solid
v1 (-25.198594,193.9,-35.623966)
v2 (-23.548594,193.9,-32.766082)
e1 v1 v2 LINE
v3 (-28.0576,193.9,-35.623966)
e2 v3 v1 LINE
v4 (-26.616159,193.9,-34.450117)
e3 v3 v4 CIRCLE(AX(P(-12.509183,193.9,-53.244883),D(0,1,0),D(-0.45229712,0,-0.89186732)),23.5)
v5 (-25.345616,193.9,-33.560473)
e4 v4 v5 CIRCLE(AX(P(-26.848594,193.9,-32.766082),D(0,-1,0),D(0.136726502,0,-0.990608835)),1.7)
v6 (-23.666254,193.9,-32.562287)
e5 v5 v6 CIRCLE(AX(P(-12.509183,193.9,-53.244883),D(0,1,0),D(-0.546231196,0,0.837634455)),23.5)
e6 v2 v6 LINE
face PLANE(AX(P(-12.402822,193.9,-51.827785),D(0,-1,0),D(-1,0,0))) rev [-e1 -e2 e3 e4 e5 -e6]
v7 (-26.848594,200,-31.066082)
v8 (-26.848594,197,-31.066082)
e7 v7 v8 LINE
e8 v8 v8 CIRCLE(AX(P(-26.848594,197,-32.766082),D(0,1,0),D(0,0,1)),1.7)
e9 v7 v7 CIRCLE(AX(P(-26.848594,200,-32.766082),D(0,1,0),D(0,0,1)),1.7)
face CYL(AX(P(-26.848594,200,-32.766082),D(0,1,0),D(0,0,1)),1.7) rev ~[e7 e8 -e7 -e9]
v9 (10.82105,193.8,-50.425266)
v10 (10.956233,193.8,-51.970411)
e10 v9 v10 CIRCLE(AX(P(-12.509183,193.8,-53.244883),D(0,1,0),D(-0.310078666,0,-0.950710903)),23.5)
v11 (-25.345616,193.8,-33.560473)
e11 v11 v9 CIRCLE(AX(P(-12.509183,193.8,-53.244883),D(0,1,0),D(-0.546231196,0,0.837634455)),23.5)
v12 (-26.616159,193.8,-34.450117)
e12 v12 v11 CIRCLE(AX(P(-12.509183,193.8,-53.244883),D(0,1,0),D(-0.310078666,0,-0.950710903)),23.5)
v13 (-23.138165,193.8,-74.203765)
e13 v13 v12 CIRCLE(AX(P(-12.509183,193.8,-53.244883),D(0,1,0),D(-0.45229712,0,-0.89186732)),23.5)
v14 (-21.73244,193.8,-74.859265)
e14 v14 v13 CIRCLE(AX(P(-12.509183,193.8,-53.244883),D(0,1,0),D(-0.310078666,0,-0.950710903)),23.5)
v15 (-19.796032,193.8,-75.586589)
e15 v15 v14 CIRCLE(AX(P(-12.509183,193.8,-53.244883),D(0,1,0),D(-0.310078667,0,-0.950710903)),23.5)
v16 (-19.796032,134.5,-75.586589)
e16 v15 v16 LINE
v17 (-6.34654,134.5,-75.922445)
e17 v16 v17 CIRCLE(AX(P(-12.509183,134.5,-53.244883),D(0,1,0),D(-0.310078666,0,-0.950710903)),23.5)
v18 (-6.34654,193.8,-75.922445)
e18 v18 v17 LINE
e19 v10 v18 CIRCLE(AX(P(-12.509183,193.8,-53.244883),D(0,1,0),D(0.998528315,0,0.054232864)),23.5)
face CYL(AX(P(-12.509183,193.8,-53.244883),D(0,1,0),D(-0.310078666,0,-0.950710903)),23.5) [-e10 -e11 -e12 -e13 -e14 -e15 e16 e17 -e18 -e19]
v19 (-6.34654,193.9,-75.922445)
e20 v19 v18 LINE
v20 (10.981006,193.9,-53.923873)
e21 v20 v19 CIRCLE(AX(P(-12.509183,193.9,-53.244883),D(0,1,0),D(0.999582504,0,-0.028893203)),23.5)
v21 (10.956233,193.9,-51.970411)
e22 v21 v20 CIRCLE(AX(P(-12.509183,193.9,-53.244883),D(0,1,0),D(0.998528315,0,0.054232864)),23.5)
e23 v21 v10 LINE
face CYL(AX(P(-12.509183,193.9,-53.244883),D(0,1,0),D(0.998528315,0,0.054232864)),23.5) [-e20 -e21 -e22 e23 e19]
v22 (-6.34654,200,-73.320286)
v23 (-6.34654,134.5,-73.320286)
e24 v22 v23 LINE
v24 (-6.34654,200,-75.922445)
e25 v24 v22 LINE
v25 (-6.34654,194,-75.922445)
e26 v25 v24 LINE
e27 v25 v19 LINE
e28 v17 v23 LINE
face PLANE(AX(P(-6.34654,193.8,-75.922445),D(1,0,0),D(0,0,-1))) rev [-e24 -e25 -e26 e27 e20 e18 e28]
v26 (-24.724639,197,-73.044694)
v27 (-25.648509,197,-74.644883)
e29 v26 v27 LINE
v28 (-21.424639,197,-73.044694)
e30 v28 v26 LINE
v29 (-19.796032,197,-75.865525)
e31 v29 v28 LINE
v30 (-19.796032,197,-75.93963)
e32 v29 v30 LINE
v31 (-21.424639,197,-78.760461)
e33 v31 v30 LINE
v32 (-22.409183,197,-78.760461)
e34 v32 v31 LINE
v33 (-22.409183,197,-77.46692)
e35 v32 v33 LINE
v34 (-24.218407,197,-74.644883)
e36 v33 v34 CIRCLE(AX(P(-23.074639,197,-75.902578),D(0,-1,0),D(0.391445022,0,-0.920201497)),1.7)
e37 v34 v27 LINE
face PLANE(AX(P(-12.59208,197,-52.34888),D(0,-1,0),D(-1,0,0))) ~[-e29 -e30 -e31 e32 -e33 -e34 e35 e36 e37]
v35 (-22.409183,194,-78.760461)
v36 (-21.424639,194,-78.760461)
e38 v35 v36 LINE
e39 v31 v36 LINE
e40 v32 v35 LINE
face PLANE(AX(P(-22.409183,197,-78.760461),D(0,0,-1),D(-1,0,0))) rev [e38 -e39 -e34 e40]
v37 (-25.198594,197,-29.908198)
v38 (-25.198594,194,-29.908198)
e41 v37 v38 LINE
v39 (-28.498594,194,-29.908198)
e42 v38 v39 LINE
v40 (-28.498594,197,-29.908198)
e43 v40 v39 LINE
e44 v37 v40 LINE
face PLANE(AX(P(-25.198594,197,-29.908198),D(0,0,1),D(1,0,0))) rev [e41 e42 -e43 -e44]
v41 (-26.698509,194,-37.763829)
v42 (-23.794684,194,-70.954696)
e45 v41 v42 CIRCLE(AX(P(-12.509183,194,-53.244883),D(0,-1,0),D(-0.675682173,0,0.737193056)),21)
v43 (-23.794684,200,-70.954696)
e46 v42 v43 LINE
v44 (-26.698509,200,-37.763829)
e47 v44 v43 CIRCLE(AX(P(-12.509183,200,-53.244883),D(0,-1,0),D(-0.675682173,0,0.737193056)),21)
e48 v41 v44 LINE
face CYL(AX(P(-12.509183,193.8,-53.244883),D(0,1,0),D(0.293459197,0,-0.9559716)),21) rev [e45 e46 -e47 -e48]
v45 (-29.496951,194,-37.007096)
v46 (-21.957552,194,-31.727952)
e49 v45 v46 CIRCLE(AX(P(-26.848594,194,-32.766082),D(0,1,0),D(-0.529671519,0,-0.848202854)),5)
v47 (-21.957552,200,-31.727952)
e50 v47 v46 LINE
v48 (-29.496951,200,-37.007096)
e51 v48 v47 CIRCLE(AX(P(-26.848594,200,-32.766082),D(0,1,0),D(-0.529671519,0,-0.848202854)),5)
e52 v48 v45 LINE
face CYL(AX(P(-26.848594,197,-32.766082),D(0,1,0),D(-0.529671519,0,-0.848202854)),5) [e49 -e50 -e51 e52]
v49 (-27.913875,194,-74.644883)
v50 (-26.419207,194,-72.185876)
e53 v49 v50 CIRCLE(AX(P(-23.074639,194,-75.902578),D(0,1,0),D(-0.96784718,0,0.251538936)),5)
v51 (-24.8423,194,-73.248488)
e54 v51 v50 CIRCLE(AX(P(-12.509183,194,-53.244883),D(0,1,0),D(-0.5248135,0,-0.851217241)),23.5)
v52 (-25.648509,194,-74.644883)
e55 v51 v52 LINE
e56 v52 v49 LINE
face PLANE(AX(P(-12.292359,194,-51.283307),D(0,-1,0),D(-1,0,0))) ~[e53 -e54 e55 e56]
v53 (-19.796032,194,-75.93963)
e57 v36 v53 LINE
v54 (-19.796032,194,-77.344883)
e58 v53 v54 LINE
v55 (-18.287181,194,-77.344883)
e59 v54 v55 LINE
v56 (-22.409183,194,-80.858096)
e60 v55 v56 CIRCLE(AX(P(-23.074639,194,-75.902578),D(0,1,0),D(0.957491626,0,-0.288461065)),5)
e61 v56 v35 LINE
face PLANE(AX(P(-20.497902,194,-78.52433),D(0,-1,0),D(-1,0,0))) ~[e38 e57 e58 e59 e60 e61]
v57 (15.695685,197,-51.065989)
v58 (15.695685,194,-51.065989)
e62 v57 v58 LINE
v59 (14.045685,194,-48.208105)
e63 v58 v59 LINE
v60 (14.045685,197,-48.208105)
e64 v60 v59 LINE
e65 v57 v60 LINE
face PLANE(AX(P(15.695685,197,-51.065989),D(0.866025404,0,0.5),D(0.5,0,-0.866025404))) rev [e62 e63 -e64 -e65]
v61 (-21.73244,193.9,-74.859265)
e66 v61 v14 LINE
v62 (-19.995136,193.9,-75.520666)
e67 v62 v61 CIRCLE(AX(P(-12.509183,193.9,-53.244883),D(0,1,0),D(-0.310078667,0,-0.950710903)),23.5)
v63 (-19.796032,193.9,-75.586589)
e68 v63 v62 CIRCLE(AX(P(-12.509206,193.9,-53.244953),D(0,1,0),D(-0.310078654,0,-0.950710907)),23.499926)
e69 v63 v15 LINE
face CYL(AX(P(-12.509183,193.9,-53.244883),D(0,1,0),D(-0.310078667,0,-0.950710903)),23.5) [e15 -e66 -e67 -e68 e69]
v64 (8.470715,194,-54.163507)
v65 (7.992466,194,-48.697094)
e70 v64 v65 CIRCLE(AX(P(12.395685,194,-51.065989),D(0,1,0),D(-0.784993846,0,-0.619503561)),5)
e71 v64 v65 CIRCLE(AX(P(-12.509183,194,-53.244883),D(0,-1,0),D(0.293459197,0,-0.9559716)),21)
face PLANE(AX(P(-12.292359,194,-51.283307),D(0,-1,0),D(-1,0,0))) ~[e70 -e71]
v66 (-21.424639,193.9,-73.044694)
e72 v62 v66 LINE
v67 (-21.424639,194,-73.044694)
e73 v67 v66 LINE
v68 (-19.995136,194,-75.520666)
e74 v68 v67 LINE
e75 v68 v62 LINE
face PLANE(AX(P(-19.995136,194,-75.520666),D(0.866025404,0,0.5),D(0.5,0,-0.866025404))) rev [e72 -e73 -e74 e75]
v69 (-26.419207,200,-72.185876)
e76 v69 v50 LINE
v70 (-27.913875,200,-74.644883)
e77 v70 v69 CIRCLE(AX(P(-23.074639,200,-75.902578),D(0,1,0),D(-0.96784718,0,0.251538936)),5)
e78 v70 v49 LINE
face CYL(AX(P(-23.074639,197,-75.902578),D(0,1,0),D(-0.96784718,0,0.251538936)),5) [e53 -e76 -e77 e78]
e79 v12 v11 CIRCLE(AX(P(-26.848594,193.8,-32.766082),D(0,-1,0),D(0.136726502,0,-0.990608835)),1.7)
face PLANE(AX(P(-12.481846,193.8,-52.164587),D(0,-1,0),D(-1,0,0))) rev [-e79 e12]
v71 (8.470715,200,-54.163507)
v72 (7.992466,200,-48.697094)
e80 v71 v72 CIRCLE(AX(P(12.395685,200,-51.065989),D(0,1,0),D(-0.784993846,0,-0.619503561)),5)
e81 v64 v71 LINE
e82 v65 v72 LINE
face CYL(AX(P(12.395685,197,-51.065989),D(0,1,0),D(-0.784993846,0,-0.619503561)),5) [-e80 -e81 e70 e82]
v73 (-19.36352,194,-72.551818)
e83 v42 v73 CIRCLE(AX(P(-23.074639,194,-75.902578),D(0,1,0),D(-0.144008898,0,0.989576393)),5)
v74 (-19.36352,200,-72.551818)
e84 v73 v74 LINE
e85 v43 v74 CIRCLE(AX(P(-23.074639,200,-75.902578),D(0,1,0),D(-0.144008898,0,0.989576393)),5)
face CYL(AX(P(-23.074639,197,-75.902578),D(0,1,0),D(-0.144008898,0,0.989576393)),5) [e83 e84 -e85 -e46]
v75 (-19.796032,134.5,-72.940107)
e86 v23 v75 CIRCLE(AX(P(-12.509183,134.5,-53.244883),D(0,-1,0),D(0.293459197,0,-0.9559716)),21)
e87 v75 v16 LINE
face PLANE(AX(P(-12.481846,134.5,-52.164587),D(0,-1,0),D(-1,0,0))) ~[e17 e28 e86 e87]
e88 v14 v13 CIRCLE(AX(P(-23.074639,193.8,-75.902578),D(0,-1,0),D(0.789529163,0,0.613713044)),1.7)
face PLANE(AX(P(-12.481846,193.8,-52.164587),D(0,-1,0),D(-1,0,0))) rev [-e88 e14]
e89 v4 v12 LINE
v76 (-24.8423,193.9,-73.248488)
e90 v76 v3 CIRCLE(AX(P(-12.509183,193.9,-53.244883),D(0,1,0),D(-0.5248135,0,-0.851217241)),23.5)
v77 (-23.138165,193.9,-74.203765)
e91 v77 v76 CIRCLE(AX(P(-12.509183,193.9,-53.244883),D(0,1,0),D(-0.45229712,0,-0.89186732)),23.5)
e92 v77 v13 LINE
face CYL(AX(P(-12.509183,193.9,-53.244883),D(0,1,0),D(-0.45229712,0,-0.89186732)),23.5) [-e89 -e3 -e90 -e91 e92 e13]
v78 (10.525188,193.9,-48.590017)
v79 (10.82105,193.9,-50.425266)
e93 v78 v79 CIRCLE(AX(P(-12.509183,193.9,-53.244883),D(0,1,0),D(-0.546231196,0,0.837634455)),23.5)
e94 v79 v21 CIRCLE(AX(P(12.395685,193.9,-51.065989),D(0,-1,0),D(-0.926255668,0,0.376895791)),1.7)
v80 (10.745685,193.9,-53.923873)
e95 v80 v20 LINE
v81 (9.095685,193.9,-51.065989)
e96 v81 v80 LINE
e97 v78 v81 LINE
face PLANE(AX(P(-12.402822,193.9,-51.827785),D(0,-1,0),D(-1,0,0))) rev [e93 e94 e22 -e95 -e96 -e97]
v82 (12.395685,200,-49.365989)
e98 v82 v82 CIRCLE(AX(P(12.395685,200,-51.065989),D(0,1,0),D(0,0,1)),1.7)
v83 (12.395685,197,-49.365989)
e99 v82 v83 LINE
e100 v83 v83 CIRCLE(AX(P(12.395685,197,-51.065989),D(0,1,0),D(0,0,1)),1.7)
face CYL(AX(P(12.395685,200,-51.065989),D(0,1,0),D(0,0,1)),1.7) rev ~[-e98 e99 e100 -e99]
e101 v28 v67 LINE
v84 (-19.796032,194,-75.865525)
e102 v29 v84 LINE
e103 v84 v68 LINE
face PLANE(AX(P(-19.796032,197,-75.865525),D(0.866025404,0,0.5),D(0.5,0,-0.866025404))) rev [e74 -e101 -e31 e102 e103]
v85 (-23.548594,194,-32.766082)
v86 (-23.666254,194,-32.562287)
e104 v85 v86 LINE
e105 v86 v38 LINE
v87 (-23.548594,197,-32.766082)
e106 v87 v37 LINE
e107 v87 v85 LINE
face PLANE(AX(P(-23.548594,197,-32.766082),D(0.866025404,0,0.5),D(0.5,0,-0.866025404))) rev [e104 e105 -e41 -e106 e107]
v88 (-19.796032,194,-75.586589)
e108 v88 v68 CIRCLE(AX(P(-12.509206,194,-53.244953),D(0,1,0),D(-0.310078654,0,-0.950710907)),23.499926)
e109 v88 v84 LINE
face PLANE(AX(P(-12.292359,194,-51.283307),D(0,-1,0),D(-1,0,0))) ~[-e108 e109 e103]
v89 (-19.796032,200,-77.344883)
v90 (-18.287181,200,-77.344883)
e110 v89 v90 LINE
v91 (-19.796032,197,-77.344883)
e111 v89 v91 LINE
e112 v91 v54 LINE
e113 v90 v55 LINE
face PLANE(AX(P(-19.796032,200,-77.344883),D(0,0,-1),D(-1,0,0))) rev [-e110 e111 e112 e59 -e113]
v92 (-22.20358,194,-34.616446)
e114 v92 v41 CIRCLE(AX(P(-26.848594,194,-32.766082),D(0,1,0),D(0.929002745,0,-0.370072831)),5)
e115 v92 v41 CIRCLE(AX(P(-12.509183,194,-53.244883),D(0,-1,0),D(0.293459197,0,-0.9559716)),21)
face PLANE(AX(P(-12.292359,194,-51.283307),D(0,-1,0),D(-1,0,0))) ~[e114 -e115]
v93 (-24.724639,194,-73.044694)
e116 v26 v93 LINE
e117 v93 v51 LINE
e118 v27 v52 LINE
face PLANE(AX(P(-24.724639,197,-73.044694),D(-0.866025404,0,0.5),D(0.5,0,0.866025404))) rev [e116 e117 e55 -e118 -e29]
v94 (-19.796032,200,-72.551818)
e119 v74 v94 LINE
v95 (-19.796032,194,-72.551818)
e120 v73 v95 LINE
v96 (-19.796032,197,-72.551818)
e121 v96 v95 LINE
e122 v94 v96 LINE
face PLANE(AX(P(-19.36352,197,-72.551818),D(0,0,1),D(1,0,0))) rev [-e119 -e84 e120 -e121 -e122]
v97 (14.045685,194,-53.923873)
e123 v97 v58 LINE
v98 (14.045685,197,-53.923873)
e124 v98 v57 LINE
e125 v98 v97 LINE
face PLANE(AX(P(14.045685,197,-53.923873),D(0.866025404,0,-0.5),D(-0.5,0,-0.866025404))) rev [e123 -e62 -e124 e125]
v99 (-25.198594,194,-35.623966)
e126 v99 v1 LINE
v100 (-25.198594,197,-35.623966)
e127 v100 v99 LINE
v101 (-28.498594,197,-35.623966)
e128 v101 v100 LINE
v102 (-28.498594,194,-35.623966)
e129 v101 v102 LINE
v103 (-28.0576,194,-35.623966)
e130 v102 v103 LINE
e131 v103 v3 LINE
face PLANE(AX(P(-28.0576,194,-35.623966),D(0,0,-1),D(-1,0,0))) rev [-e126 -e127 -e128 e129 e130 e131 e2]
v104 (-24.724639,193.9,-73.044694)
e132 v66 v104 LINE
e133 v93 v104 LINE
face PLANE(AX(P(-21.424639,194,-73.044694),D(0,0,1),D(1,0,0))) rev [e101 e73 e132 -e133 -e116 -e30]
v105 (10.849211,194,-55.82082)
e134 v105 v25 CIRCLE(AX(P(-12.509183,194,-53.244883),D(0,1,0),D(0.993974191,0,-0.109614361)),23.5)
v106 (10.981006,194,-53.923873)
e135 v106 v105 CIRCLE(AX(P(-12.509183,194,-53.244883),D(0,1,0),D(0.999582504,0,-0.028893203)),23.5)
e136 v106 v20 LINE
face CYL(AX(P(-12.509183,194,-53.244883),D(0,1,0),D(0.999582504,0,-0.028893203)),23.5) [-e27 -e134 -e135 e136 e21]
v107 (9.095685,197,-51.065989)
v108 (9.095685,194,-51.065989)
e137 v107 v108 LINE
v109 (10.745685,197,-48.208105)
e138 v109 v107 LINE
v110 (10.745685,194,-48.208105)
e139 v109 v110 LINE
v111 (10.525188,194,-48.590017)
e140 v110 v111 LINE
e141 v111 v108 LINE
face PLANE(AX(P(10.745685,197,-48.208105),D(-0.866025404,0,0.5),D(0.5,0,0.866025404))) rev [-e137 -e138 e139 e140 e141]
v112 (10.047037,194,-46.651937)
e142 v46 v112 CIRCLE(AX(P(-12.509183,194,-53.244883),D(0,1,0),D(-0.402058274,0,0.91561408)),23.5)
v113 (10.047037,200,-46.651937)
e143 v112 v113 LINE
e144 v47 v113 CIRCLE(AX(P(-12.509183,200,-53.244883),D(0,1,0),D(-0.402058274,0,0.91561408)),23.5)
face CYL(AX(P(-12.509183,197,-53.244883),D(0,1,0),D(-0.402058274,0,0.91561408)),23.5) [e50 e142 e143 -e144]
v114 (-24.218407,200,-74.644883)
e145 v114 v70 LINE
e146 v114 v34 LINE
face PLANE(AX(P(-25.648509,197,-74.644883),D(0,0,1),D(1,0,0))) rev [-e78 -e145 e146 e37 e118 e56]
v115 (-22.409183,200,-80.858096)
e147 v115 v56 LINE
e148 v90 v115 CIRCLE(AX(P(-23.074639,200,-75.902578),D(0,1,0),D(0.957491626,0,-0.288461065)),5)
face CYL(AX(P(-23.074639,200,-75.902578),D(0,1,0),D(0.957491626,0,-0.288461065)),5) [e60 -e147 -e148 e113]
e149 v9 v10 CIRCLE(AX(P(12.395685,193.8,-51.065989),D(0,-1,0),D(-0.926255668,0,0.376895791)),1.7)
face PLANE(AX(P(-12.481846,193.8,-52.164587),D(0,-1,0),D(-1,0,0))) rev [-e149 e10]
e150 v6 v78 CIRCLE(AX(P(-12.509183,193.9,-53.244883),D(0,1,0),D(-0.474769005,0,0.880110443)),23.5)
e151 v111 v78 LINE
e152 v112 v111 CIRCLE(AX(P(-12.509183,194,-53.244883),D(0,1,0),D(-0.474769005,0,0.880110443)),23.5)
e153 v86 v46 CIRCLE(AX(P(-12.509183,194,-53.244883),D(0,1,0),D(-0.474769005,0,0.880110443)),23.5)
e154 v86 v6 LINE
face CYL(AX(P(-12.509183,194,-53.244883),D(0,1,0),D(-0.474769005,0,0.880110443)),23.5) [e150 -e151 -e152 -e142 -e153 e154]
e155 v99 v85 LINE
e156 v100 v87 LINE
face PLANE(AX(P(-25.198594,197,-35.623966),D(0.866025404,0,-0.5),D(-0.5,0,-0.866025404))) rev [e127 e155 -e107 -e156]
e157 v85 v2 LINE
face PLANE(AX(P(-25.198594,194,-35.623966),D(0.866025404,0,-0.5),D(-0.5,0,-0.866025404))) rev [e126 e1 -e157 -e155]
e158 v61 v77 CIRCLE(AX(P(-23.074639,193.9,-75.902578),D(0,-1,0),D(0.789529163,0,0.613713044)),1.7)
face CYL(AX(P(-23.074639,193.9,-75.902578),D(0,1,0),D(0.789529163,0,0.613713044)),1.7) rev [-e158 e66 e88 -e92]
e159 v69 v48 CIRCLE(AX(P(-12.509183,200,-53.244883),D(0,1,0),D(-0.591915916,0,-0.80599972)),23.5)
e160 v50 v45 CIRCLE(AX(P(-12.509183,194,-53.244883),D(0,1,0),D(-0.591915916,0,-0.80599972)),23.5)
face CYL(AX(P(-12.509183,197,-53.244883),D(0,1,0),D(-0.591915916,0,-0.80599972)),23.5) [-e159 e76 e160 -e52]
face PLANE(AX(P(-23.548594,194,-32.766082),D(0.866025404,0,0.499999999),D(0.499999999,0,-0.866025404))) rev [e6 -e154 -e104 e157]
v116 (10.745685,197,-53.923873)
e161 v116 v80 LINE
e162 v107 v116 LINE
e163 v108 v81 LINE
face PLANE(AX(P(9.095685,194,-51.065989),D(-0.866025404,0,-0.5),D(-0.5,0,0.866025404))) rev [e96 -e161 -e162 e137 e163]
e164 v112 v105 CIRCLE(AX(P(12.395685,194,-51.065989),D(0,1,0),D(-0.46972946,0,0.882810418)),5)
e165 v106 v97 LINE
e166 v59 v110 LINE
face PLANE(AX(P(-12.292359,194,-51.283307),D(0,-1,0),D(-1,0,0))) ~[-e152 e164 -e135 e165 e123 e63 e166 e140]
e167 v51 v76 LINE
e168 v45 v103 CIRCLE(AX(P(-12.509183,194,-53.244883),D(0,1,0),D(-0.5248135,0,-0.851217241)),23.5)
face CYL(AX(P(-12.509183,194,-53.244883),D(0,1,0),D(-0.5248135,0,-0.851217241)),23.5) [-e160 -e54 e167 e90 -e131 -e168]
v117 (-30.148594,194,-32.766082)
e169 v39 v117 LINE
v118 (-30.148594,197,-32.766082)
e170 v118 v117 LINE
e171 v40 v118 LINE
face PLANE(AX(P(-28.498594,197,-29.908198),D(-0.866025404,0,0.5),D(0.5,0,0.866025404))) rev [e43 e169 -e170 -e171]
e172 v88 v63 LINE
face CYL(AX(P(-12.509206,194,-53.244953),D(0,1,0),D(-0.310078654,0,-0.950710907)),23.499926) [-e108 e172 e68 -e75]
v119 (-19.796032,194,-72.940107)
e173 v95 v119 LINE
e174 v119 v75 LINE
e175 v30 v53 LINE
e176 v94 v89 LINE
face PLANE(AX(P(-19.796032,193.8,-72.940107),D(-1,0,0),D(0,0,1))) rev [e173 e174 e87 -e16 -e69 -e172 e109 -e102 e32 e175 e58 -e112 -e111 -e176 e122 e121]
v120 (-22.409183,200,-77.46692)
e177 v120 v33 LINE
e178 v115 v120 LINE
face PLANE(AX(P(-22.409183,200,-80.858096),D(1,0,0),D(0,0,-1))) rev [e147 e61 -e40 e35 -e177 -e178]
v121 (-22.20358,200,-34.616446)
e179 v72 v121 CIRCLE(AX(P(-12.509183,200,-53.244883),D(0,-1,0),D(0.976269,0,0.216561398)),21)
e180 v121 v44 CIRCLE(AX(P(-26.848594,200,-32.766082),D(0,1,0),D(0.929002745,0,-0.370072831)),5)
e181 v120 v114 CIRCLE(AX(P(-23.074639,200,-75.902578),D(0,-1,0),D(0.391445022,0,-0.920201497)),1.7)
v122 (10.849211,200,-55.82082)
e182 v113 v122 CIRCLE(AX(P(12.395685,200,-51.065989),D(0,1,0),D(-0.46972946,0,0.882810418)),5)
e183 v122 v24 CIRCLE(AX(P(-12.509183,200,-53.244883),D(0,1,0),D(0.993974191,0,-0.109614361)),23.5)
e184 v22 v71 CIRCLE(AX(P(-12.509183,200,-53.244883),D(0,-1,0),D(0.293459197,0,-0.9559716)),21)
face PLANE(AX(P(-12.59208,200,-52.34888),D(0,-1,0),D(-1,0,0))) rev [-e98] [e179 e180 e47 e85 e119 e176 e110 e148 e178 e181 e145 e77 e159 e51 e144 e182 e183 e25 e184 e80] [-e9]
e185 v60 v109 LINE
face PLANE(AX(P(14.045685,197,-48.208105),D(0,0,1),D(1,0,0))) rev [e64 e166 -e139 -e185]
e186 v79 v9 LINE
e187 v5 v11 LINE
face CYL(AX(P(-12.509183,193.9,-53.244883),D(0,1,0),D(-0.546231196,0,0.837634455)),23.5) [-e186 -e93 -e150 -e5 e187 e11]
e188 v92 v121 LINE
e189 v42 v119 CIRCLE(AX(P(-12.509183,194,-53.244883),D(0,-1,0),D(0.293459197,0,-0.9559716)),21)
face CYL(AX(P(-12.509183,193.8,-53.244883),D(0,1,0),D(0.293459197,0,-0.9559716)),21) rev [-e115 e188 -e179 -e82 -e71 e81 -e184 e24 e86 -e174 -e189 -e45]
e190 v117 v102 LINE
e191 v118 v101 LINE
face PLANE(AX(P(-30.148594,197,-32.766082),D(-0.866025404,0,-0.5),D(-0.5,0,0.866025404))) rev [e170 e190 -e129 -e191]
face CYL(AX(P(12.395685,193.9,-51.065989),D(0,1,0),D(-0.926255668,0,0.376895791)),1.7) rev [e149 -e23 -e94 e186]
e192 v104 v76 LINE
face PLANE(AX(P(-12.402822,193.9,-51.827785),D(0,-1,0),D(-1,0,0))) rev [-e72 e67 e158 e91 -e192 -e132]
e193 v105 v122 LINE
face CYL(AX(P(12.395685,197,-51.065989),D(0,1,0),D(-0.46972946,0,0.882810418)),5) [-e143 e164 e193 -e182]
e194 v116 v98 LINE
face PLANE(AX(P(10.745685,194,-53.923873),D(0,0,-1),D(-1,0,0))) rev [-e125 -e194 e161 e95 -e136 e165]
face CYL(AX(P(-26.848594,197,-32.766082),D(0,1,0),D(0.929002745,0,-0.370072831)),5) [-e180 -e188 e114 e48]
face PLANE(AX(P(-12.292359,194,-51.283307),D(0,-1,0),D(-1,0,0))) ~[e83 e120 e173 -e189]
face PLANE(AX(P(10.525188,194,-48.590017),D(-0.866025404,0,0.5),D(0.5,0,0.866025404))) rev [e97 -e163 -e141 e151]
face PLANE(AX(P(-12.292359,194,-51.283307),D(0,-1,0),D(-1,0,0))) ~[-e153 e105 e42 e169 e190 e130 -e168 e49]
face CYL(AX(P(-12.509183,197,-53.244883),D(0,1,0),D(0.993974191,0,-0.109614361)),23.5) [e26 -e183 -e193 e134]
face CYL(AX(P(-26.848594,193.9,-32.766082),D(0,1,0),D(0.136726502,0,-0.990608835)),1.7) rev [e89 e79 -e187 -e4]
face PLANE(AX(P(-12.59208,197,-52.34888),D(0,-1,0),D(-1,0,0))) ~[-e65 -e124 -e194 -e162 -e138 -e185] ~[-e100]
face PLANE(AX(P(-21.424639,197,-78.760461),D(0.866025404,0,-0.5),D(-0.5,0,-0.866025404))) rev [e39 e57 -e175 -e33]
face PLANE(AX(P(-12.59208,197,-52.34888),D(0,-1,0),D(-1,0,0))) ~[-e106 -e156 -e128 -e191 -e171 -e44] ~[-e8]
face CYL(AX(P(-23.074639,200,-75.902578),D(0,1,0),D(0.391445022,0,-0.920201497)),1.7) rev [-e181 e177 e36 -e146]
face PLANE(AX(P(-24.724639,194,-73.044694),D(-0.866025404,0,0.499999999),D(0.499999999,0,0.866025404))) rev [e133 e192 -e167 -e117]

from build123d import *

# Parameters (mm, degrees)
WHEEL_SUPPORT_RAILS_1_PROFILE_R       = 1.7
WHEEL_SUPPORT_RAILS_1_EXTRUSION_DEPTH = 3
WHEEL_SUPPORT_RAILS_2_EXTRUSION_DEPTH = 3
WHEEL_SUPPORT_RAILS_3_EXTRUSION_DEPTH = 0.1
WHEEL_SUPPORT_RAILS_4_EXTRUSION_DEPTH = 0.1
PIVOT_BACKING_5_EXTRUSION_DEPTH       = 59.3


with BuildPart() as part:
    # Wheel support rails 1 profile → Wheel support rails 1 extrusion (new body)
    with BuildSketch(Plane(origin=(0, -200, 0), x_dir=(1, 0, 0), z_dir=(0, 1, 0))):
        with BuildLine():
            Line((-19.3635199, 72.551817663), (-19.796031534, 72.551817663))
            Line((-19.796031534, 72.551817663), (-19.796031534, 77.344882879))
            Line((-19.796031534, 77.344882879), (-18.287181296, 77.344882879))
            ThreePointArc((-18.287181296, 77.344882879), (-19.831302101, 79.707937327), (-22.409182889, 80.858096458))
            Line((-22.409182889, 80.858096458), (-22.409182889, 77.466920099))
            ThreePointArc((-22.409182889, 77.466920099), (-21.643496924, 74.985063993), (-24.218406931, 74.644882879))
            Line((-24.218406931, 74.644882879), (-27.913875328, 74.644882879))
            ThreePointArc((-27.913875328, 74.644882879), (-27.347266001, 73.305528815), (-26.419206918, 72.185876289))
            ThreePointArc((-26.419206918, 72.185876289), (-35.919758288, 55.293042834), (-29.496951386, 37.007096044))
            ThreePointArc((-29.496951386, 37.007096044), (-29.716475974, 28.670321551), (-21.957552332, 31.727951993))
            ThreePointArc((-21.957552332, 31.727951993), (-2.577653733, 31.946649884), (10.047037269, 46.651937219))
            ThreePointArc((10.047037269, 46.651937219), (17.37665806, 50.630210597), (10.849210599, 55.820820355))
            ThreePointArc((10.849210599, 55.820820355), (5.348356993, 68.520951403), (-6.346539744, 75.922445127))
            Line((-6.346539744, 75.922445127), (-6.346539744, 73.320286475))
            ThreePointArc((-6.346539744, 73.320286475), (4.101805551, 66.093036958), (8.470715341, 54.163507116))
            ThreePointArc((8.470715341, 54.163507116), (7.414711079, 51.501768024), (7.992466121, 48.697093513))
            ThreePointArc((7.992466121, 48.697093513), (-3.634199387, 34.212419351), (-22.203580069, 34.616445929))
            ThreePointArc((-22.203580069, 34.616445929), (-23.98071161, 36.861841994), (-26.698508507, 37.763828705))
            ThreePointArc((-26.698508507, 37.763828705), (-33.429271543, 55.075153477), (-23.794683922, 70.954695591))
            ThreePointArc((-23.794683922, 70.954695591), (-21.379253869, 71.198784638), (-19.3635199, 72.551817663))
        make_face()
        with Locations((12.395684569, 51.06598931)):
            Circle(WHEEL_SUPPORT_RAILS_1_PROFILE_R, mode=Mode.SUBTRACT)
        with Locations((-26.848593792, 32.766081772)):
            Circle(WHEEL_SUPPORT_RAILS_1_PROFILE_R, mode=Mode.SUBTRACT)
    extrude(amount=WHEEL_SUPPORT_RAILS_1_EXTRUSION_DEPTH)

    # Wheel support rails 2 profile → Wheel support rails 2 extrusion (add)
    # profile 1 of 2: a face of its own
    with BuildSketch(Plane(origin=(0, -197, 0), x_dir=(1, 0, 0), z_dir=(0, 1, 0))):
        with BuildLine():
            Line((-19.3635199, 72.551817663), (-19.796031533, 72.551817663))
            Line((-19.796031533, 72.551817663), (-19.796031533, 75.86552534))
            Line((-19.796031533, 75.86552534), (-21.424639427, 73.044693722))
            Line((-21.424639427, 73.044693722), (-24.724639427, 73.044693722))
            Line((-24.724639427, 73.044693722), (-25.648509068, 74.644882879))
            Line((-25.648509068, 74.644882879), (-27.913875328, 74.644882879))
            ThreePointArc((-27.913875328, 74.644882879), (-27.347266001, 73.305528815), (-26.419206918, 72.185876289))
            ThreePointArc((-26.419206918, 72.185876289), (-35.919758288, 55.293042834), (-29.496951386, 37.007096044))
            ThreePointArc((-29.496951386, 37.007096044), (-29.716475974, 28.670321551), (-21.957552332, 31.727951993))
            ThreePointArc((-21.957552332, 31.727951993), (-2.577653733, 31.946649884), (10.047037269, 46.651937219))
            ThreePointArc((10.047037269, 46.651937219), (17.37665806, 50.630210597), (10.849210599, 55.820820355))
            ThreePointArc((10.849210599, 55.820820355), (5.348356993, 68.520951403), (-6.346539744, 75.922445127))
            Line((-6.346539744, 75.922445127), (-6.346539744, 73.320286475))
            ThreePointArc((-6.346539744, 73.320286475), (4.101805551, 66.093036958), (8.470715341, 54.163507116))
            ThreePointArc((8.470715341, 54.163507116), (7.414711079, 51.501768024), (7.992466121, 48.697093513))
            ThreePointArc((7.992466121, 48.697093513), (-3.634199387, 34.212419351), (-22.203580069, 34.616445929))
            ThreePointArc((-22.203580069, 34.616445929), (-23.98071161, 36.861841994), (-26.698508507, 37.763828705))
            ThreePointArc((-26.698508507, 37.763828705), (-33.429271543, 55.075153477), (-23.794683922, 70.954695591))
            ThreePointArc((-23.794683922, 70.954695591), (-21.379253869, 71.198784638), (-19.3635199, 72.551817663))
        make_face()
        Polygon((9.095684569, 51.06598931), (10.745684569, 53.923873143), (14.045684569, 53.923873143), (15.695684569, 51.06598931), (14.045684569, 48.208105478), (10.745684569, 48.208105478), align=None, mode=Mode.SUBTRACT)
        Polygon((-30.148593792, 32.766081772), (-28.498593792, 35.623965604), (-25.198593792, 35.623965604), (-23.548593792, 32.766081772), (-25.198593792, 29.908197939), (-28.498593792, 29.908197939), align=None, mode=Mode.SUBTRACT)
    # profile 2 of 2: a face of its own
    with BuildSketch(Plane(origin=(0, -197, 0), x_dir=(1, 0, 0), z_dir=(0, 1, 0))):
        with BuildLine():
            Line((-22.409182889, 78.760461387), (-21.424639427, 78.760461387))
            Line((-21.424639427, 78.760461387), (-19.796031533, 75.939629769))
            Line((-19.796031533, 75.939629769), (-19.796031533, 77.344882879))
            Line((-19.796031533, 77.344882879), (-18.287181296, 77.344882879))
            ThreePointArc((-18.287181296, 77.344882879), (-19.831302101, 79.707937327), (-22.409182889, 80.858096458))
            Line((-22.409182889, 80.858096458), (-22.409182889, 78.760461387))
        make_face()
    extrude(amount=WHEEL_SUPPORT_RAILS_2_EXTRUSION_DEPTH)

    # Wheel support rails 3 profile → Wheel support rails 3 extrusion (add)
    with BuildSketch(Plane(origin=(0, -194, 0), x_dir=(1, 0, 0), z_dir=(0, 1, 0))):
        with BuildLine():
            Line((9.095684569, 51.06598931), (10.745684569, 53.923873143))
            Line((10.745684569, 53.923873143), (10.981005967, 53.923873143))
            ThreePointArc((10.981005967, 53.923873143), (5.95177331, 67.785965934), (-6.346539744, 75.922445127))
            Line((-6.346539744, 75.922445127), (-6.346539744, 73.320286475))
            ThreePointArc((-6.346539744, 73.320286475), (-11.915808048, 32.253267736), (-19.796031533, 72.940106583))
            Line((-19.796031533, 72.940106583), (-19.796031533, 75.586589097))
            ThreePointArc((-19.796031533, 75.586589097), (-19.895657477, 75.553849531), (-19.99513633, 75.520665715))
            Line((-19.99513633, 75.520665715), (-21.424639427, 73.044693721))
            Line((-21.424639427, 73.044693721), (-24.724639427, 73.044693721))
            Line((-24.724639427, 73.044693721), (-24.842300126, 73.24848803))
            ThreePointArc((-24.842300126, 73.24848803), (-35.923839859, 55.245842318), (-28.057599985, 35.623965605))
            Line((-28.057599985, 35.623965605), (-25.198593791, 35.623965605))
            Line((-25.198593791, 35.623965605), (-23.548593792, 32.766081772))
            Line((-23.548593792, 32.766081772), (-23.666254491, 32.562287463))
            ThreePointArc((-23.666254491, 32.562287463), (-2.534736101, 31.966715397), (10.525187666, 48.590017317))
            Line((10.525187666, 48.590017317), (9.095684569, 51.06598931))
        make_face()
    extrude(amount=WHEEL_SUPPORT_RAILS_3_EXTRUSION_DEPTH)

    # Wheel support rails 4 profile → Wheel support rails 4 extrusion (add)
    with BuildSketch(Plane(origin=(0, -193.9, 0), x_dir=(1, 0, 0), z_dir=(0, 1, 0))):
        with BuildLine():
            Line((-6.346539744, 75.922445127), (-6.346539744, 73.320286475))
            ThreePointArc((-6.346539744, 73.320286475), (-11.915808048, 32.253267736), (-19.796031533, 72.940106583))
            Line((-19.796031533, 72.940106583), (-19.796031533, 75.586589097))
            ThreePointArc((-19.796031533, 75.586589097), (-20.77224205, 75.244243169), (-21.732439848, 74.859265381))
            ThreePointArc((-21.732439848, 74.859265381), (-22.356188381, 74.361854317), (-23.138165192, 74.203764887))
            ThreePointArc((-23.138165192, 74.203764887), (-35.919758287, 55.293042834), (-26.616158734, 34.450116791))
            ThreePointArc((-26.616158734, 34.450116791), (-25.873513849, 34.158640248), (-25.345615983, 33.560473178))
            ThreePointArc((-25.345615983, 33.560473178), (-2.577653732, 31.946649884), (10.821049933, 50.425266465))
            ThreePointArc((10.821049933, 50.425266465), (10.702153582, 51.214154072), (10.956232526, 51.97041057))
            ThreePointArc((10.956232526, 51.97041057), (6.540238452, 67.006043687), (-6.346539744, 75.922445127))
        make_face()
    extrude(amount=WHEEL_SUPPORT_RAILS_4_EXTRUSION_DEPTH)

    # Pivot backing 5 profile → Pivot backing 5 extrusion (add)
    with BuildSketch(Plane(origin=(0, -193.8, 0), x_dir=(1, 0, 0), z_dir=(0, 1, 0))):
        with BuildLine():
            Line((-6.346539744, 75.922445127), (-6.346539744, 73.320286475))
            ThreePointArc((-6.346539744, 73.320286475), (-11.915808048, 32.253267736), (-19.796031533, 72.940106583))
            Line((-19.796031533, 72.940106583), (-19.796031533, 75.586589097))
            ThreePointArc((-19.796031533, 75.586589097), (-11.922531942, 29.752206559), (-6.346539744, 75.922445127))
        make_face()
    extrude(amount=PIVOT_BACKING_5_EXTRUSION_DEPTH)


with BuildPart() as body_2:
    # Mirror1: mirrored copy
    add(part.part.mirror(Plane(origin=(0, 0, 0), x_dir=(0, 0, 1), z_dir=(0, -1, 0))))


solid = body_2.part
